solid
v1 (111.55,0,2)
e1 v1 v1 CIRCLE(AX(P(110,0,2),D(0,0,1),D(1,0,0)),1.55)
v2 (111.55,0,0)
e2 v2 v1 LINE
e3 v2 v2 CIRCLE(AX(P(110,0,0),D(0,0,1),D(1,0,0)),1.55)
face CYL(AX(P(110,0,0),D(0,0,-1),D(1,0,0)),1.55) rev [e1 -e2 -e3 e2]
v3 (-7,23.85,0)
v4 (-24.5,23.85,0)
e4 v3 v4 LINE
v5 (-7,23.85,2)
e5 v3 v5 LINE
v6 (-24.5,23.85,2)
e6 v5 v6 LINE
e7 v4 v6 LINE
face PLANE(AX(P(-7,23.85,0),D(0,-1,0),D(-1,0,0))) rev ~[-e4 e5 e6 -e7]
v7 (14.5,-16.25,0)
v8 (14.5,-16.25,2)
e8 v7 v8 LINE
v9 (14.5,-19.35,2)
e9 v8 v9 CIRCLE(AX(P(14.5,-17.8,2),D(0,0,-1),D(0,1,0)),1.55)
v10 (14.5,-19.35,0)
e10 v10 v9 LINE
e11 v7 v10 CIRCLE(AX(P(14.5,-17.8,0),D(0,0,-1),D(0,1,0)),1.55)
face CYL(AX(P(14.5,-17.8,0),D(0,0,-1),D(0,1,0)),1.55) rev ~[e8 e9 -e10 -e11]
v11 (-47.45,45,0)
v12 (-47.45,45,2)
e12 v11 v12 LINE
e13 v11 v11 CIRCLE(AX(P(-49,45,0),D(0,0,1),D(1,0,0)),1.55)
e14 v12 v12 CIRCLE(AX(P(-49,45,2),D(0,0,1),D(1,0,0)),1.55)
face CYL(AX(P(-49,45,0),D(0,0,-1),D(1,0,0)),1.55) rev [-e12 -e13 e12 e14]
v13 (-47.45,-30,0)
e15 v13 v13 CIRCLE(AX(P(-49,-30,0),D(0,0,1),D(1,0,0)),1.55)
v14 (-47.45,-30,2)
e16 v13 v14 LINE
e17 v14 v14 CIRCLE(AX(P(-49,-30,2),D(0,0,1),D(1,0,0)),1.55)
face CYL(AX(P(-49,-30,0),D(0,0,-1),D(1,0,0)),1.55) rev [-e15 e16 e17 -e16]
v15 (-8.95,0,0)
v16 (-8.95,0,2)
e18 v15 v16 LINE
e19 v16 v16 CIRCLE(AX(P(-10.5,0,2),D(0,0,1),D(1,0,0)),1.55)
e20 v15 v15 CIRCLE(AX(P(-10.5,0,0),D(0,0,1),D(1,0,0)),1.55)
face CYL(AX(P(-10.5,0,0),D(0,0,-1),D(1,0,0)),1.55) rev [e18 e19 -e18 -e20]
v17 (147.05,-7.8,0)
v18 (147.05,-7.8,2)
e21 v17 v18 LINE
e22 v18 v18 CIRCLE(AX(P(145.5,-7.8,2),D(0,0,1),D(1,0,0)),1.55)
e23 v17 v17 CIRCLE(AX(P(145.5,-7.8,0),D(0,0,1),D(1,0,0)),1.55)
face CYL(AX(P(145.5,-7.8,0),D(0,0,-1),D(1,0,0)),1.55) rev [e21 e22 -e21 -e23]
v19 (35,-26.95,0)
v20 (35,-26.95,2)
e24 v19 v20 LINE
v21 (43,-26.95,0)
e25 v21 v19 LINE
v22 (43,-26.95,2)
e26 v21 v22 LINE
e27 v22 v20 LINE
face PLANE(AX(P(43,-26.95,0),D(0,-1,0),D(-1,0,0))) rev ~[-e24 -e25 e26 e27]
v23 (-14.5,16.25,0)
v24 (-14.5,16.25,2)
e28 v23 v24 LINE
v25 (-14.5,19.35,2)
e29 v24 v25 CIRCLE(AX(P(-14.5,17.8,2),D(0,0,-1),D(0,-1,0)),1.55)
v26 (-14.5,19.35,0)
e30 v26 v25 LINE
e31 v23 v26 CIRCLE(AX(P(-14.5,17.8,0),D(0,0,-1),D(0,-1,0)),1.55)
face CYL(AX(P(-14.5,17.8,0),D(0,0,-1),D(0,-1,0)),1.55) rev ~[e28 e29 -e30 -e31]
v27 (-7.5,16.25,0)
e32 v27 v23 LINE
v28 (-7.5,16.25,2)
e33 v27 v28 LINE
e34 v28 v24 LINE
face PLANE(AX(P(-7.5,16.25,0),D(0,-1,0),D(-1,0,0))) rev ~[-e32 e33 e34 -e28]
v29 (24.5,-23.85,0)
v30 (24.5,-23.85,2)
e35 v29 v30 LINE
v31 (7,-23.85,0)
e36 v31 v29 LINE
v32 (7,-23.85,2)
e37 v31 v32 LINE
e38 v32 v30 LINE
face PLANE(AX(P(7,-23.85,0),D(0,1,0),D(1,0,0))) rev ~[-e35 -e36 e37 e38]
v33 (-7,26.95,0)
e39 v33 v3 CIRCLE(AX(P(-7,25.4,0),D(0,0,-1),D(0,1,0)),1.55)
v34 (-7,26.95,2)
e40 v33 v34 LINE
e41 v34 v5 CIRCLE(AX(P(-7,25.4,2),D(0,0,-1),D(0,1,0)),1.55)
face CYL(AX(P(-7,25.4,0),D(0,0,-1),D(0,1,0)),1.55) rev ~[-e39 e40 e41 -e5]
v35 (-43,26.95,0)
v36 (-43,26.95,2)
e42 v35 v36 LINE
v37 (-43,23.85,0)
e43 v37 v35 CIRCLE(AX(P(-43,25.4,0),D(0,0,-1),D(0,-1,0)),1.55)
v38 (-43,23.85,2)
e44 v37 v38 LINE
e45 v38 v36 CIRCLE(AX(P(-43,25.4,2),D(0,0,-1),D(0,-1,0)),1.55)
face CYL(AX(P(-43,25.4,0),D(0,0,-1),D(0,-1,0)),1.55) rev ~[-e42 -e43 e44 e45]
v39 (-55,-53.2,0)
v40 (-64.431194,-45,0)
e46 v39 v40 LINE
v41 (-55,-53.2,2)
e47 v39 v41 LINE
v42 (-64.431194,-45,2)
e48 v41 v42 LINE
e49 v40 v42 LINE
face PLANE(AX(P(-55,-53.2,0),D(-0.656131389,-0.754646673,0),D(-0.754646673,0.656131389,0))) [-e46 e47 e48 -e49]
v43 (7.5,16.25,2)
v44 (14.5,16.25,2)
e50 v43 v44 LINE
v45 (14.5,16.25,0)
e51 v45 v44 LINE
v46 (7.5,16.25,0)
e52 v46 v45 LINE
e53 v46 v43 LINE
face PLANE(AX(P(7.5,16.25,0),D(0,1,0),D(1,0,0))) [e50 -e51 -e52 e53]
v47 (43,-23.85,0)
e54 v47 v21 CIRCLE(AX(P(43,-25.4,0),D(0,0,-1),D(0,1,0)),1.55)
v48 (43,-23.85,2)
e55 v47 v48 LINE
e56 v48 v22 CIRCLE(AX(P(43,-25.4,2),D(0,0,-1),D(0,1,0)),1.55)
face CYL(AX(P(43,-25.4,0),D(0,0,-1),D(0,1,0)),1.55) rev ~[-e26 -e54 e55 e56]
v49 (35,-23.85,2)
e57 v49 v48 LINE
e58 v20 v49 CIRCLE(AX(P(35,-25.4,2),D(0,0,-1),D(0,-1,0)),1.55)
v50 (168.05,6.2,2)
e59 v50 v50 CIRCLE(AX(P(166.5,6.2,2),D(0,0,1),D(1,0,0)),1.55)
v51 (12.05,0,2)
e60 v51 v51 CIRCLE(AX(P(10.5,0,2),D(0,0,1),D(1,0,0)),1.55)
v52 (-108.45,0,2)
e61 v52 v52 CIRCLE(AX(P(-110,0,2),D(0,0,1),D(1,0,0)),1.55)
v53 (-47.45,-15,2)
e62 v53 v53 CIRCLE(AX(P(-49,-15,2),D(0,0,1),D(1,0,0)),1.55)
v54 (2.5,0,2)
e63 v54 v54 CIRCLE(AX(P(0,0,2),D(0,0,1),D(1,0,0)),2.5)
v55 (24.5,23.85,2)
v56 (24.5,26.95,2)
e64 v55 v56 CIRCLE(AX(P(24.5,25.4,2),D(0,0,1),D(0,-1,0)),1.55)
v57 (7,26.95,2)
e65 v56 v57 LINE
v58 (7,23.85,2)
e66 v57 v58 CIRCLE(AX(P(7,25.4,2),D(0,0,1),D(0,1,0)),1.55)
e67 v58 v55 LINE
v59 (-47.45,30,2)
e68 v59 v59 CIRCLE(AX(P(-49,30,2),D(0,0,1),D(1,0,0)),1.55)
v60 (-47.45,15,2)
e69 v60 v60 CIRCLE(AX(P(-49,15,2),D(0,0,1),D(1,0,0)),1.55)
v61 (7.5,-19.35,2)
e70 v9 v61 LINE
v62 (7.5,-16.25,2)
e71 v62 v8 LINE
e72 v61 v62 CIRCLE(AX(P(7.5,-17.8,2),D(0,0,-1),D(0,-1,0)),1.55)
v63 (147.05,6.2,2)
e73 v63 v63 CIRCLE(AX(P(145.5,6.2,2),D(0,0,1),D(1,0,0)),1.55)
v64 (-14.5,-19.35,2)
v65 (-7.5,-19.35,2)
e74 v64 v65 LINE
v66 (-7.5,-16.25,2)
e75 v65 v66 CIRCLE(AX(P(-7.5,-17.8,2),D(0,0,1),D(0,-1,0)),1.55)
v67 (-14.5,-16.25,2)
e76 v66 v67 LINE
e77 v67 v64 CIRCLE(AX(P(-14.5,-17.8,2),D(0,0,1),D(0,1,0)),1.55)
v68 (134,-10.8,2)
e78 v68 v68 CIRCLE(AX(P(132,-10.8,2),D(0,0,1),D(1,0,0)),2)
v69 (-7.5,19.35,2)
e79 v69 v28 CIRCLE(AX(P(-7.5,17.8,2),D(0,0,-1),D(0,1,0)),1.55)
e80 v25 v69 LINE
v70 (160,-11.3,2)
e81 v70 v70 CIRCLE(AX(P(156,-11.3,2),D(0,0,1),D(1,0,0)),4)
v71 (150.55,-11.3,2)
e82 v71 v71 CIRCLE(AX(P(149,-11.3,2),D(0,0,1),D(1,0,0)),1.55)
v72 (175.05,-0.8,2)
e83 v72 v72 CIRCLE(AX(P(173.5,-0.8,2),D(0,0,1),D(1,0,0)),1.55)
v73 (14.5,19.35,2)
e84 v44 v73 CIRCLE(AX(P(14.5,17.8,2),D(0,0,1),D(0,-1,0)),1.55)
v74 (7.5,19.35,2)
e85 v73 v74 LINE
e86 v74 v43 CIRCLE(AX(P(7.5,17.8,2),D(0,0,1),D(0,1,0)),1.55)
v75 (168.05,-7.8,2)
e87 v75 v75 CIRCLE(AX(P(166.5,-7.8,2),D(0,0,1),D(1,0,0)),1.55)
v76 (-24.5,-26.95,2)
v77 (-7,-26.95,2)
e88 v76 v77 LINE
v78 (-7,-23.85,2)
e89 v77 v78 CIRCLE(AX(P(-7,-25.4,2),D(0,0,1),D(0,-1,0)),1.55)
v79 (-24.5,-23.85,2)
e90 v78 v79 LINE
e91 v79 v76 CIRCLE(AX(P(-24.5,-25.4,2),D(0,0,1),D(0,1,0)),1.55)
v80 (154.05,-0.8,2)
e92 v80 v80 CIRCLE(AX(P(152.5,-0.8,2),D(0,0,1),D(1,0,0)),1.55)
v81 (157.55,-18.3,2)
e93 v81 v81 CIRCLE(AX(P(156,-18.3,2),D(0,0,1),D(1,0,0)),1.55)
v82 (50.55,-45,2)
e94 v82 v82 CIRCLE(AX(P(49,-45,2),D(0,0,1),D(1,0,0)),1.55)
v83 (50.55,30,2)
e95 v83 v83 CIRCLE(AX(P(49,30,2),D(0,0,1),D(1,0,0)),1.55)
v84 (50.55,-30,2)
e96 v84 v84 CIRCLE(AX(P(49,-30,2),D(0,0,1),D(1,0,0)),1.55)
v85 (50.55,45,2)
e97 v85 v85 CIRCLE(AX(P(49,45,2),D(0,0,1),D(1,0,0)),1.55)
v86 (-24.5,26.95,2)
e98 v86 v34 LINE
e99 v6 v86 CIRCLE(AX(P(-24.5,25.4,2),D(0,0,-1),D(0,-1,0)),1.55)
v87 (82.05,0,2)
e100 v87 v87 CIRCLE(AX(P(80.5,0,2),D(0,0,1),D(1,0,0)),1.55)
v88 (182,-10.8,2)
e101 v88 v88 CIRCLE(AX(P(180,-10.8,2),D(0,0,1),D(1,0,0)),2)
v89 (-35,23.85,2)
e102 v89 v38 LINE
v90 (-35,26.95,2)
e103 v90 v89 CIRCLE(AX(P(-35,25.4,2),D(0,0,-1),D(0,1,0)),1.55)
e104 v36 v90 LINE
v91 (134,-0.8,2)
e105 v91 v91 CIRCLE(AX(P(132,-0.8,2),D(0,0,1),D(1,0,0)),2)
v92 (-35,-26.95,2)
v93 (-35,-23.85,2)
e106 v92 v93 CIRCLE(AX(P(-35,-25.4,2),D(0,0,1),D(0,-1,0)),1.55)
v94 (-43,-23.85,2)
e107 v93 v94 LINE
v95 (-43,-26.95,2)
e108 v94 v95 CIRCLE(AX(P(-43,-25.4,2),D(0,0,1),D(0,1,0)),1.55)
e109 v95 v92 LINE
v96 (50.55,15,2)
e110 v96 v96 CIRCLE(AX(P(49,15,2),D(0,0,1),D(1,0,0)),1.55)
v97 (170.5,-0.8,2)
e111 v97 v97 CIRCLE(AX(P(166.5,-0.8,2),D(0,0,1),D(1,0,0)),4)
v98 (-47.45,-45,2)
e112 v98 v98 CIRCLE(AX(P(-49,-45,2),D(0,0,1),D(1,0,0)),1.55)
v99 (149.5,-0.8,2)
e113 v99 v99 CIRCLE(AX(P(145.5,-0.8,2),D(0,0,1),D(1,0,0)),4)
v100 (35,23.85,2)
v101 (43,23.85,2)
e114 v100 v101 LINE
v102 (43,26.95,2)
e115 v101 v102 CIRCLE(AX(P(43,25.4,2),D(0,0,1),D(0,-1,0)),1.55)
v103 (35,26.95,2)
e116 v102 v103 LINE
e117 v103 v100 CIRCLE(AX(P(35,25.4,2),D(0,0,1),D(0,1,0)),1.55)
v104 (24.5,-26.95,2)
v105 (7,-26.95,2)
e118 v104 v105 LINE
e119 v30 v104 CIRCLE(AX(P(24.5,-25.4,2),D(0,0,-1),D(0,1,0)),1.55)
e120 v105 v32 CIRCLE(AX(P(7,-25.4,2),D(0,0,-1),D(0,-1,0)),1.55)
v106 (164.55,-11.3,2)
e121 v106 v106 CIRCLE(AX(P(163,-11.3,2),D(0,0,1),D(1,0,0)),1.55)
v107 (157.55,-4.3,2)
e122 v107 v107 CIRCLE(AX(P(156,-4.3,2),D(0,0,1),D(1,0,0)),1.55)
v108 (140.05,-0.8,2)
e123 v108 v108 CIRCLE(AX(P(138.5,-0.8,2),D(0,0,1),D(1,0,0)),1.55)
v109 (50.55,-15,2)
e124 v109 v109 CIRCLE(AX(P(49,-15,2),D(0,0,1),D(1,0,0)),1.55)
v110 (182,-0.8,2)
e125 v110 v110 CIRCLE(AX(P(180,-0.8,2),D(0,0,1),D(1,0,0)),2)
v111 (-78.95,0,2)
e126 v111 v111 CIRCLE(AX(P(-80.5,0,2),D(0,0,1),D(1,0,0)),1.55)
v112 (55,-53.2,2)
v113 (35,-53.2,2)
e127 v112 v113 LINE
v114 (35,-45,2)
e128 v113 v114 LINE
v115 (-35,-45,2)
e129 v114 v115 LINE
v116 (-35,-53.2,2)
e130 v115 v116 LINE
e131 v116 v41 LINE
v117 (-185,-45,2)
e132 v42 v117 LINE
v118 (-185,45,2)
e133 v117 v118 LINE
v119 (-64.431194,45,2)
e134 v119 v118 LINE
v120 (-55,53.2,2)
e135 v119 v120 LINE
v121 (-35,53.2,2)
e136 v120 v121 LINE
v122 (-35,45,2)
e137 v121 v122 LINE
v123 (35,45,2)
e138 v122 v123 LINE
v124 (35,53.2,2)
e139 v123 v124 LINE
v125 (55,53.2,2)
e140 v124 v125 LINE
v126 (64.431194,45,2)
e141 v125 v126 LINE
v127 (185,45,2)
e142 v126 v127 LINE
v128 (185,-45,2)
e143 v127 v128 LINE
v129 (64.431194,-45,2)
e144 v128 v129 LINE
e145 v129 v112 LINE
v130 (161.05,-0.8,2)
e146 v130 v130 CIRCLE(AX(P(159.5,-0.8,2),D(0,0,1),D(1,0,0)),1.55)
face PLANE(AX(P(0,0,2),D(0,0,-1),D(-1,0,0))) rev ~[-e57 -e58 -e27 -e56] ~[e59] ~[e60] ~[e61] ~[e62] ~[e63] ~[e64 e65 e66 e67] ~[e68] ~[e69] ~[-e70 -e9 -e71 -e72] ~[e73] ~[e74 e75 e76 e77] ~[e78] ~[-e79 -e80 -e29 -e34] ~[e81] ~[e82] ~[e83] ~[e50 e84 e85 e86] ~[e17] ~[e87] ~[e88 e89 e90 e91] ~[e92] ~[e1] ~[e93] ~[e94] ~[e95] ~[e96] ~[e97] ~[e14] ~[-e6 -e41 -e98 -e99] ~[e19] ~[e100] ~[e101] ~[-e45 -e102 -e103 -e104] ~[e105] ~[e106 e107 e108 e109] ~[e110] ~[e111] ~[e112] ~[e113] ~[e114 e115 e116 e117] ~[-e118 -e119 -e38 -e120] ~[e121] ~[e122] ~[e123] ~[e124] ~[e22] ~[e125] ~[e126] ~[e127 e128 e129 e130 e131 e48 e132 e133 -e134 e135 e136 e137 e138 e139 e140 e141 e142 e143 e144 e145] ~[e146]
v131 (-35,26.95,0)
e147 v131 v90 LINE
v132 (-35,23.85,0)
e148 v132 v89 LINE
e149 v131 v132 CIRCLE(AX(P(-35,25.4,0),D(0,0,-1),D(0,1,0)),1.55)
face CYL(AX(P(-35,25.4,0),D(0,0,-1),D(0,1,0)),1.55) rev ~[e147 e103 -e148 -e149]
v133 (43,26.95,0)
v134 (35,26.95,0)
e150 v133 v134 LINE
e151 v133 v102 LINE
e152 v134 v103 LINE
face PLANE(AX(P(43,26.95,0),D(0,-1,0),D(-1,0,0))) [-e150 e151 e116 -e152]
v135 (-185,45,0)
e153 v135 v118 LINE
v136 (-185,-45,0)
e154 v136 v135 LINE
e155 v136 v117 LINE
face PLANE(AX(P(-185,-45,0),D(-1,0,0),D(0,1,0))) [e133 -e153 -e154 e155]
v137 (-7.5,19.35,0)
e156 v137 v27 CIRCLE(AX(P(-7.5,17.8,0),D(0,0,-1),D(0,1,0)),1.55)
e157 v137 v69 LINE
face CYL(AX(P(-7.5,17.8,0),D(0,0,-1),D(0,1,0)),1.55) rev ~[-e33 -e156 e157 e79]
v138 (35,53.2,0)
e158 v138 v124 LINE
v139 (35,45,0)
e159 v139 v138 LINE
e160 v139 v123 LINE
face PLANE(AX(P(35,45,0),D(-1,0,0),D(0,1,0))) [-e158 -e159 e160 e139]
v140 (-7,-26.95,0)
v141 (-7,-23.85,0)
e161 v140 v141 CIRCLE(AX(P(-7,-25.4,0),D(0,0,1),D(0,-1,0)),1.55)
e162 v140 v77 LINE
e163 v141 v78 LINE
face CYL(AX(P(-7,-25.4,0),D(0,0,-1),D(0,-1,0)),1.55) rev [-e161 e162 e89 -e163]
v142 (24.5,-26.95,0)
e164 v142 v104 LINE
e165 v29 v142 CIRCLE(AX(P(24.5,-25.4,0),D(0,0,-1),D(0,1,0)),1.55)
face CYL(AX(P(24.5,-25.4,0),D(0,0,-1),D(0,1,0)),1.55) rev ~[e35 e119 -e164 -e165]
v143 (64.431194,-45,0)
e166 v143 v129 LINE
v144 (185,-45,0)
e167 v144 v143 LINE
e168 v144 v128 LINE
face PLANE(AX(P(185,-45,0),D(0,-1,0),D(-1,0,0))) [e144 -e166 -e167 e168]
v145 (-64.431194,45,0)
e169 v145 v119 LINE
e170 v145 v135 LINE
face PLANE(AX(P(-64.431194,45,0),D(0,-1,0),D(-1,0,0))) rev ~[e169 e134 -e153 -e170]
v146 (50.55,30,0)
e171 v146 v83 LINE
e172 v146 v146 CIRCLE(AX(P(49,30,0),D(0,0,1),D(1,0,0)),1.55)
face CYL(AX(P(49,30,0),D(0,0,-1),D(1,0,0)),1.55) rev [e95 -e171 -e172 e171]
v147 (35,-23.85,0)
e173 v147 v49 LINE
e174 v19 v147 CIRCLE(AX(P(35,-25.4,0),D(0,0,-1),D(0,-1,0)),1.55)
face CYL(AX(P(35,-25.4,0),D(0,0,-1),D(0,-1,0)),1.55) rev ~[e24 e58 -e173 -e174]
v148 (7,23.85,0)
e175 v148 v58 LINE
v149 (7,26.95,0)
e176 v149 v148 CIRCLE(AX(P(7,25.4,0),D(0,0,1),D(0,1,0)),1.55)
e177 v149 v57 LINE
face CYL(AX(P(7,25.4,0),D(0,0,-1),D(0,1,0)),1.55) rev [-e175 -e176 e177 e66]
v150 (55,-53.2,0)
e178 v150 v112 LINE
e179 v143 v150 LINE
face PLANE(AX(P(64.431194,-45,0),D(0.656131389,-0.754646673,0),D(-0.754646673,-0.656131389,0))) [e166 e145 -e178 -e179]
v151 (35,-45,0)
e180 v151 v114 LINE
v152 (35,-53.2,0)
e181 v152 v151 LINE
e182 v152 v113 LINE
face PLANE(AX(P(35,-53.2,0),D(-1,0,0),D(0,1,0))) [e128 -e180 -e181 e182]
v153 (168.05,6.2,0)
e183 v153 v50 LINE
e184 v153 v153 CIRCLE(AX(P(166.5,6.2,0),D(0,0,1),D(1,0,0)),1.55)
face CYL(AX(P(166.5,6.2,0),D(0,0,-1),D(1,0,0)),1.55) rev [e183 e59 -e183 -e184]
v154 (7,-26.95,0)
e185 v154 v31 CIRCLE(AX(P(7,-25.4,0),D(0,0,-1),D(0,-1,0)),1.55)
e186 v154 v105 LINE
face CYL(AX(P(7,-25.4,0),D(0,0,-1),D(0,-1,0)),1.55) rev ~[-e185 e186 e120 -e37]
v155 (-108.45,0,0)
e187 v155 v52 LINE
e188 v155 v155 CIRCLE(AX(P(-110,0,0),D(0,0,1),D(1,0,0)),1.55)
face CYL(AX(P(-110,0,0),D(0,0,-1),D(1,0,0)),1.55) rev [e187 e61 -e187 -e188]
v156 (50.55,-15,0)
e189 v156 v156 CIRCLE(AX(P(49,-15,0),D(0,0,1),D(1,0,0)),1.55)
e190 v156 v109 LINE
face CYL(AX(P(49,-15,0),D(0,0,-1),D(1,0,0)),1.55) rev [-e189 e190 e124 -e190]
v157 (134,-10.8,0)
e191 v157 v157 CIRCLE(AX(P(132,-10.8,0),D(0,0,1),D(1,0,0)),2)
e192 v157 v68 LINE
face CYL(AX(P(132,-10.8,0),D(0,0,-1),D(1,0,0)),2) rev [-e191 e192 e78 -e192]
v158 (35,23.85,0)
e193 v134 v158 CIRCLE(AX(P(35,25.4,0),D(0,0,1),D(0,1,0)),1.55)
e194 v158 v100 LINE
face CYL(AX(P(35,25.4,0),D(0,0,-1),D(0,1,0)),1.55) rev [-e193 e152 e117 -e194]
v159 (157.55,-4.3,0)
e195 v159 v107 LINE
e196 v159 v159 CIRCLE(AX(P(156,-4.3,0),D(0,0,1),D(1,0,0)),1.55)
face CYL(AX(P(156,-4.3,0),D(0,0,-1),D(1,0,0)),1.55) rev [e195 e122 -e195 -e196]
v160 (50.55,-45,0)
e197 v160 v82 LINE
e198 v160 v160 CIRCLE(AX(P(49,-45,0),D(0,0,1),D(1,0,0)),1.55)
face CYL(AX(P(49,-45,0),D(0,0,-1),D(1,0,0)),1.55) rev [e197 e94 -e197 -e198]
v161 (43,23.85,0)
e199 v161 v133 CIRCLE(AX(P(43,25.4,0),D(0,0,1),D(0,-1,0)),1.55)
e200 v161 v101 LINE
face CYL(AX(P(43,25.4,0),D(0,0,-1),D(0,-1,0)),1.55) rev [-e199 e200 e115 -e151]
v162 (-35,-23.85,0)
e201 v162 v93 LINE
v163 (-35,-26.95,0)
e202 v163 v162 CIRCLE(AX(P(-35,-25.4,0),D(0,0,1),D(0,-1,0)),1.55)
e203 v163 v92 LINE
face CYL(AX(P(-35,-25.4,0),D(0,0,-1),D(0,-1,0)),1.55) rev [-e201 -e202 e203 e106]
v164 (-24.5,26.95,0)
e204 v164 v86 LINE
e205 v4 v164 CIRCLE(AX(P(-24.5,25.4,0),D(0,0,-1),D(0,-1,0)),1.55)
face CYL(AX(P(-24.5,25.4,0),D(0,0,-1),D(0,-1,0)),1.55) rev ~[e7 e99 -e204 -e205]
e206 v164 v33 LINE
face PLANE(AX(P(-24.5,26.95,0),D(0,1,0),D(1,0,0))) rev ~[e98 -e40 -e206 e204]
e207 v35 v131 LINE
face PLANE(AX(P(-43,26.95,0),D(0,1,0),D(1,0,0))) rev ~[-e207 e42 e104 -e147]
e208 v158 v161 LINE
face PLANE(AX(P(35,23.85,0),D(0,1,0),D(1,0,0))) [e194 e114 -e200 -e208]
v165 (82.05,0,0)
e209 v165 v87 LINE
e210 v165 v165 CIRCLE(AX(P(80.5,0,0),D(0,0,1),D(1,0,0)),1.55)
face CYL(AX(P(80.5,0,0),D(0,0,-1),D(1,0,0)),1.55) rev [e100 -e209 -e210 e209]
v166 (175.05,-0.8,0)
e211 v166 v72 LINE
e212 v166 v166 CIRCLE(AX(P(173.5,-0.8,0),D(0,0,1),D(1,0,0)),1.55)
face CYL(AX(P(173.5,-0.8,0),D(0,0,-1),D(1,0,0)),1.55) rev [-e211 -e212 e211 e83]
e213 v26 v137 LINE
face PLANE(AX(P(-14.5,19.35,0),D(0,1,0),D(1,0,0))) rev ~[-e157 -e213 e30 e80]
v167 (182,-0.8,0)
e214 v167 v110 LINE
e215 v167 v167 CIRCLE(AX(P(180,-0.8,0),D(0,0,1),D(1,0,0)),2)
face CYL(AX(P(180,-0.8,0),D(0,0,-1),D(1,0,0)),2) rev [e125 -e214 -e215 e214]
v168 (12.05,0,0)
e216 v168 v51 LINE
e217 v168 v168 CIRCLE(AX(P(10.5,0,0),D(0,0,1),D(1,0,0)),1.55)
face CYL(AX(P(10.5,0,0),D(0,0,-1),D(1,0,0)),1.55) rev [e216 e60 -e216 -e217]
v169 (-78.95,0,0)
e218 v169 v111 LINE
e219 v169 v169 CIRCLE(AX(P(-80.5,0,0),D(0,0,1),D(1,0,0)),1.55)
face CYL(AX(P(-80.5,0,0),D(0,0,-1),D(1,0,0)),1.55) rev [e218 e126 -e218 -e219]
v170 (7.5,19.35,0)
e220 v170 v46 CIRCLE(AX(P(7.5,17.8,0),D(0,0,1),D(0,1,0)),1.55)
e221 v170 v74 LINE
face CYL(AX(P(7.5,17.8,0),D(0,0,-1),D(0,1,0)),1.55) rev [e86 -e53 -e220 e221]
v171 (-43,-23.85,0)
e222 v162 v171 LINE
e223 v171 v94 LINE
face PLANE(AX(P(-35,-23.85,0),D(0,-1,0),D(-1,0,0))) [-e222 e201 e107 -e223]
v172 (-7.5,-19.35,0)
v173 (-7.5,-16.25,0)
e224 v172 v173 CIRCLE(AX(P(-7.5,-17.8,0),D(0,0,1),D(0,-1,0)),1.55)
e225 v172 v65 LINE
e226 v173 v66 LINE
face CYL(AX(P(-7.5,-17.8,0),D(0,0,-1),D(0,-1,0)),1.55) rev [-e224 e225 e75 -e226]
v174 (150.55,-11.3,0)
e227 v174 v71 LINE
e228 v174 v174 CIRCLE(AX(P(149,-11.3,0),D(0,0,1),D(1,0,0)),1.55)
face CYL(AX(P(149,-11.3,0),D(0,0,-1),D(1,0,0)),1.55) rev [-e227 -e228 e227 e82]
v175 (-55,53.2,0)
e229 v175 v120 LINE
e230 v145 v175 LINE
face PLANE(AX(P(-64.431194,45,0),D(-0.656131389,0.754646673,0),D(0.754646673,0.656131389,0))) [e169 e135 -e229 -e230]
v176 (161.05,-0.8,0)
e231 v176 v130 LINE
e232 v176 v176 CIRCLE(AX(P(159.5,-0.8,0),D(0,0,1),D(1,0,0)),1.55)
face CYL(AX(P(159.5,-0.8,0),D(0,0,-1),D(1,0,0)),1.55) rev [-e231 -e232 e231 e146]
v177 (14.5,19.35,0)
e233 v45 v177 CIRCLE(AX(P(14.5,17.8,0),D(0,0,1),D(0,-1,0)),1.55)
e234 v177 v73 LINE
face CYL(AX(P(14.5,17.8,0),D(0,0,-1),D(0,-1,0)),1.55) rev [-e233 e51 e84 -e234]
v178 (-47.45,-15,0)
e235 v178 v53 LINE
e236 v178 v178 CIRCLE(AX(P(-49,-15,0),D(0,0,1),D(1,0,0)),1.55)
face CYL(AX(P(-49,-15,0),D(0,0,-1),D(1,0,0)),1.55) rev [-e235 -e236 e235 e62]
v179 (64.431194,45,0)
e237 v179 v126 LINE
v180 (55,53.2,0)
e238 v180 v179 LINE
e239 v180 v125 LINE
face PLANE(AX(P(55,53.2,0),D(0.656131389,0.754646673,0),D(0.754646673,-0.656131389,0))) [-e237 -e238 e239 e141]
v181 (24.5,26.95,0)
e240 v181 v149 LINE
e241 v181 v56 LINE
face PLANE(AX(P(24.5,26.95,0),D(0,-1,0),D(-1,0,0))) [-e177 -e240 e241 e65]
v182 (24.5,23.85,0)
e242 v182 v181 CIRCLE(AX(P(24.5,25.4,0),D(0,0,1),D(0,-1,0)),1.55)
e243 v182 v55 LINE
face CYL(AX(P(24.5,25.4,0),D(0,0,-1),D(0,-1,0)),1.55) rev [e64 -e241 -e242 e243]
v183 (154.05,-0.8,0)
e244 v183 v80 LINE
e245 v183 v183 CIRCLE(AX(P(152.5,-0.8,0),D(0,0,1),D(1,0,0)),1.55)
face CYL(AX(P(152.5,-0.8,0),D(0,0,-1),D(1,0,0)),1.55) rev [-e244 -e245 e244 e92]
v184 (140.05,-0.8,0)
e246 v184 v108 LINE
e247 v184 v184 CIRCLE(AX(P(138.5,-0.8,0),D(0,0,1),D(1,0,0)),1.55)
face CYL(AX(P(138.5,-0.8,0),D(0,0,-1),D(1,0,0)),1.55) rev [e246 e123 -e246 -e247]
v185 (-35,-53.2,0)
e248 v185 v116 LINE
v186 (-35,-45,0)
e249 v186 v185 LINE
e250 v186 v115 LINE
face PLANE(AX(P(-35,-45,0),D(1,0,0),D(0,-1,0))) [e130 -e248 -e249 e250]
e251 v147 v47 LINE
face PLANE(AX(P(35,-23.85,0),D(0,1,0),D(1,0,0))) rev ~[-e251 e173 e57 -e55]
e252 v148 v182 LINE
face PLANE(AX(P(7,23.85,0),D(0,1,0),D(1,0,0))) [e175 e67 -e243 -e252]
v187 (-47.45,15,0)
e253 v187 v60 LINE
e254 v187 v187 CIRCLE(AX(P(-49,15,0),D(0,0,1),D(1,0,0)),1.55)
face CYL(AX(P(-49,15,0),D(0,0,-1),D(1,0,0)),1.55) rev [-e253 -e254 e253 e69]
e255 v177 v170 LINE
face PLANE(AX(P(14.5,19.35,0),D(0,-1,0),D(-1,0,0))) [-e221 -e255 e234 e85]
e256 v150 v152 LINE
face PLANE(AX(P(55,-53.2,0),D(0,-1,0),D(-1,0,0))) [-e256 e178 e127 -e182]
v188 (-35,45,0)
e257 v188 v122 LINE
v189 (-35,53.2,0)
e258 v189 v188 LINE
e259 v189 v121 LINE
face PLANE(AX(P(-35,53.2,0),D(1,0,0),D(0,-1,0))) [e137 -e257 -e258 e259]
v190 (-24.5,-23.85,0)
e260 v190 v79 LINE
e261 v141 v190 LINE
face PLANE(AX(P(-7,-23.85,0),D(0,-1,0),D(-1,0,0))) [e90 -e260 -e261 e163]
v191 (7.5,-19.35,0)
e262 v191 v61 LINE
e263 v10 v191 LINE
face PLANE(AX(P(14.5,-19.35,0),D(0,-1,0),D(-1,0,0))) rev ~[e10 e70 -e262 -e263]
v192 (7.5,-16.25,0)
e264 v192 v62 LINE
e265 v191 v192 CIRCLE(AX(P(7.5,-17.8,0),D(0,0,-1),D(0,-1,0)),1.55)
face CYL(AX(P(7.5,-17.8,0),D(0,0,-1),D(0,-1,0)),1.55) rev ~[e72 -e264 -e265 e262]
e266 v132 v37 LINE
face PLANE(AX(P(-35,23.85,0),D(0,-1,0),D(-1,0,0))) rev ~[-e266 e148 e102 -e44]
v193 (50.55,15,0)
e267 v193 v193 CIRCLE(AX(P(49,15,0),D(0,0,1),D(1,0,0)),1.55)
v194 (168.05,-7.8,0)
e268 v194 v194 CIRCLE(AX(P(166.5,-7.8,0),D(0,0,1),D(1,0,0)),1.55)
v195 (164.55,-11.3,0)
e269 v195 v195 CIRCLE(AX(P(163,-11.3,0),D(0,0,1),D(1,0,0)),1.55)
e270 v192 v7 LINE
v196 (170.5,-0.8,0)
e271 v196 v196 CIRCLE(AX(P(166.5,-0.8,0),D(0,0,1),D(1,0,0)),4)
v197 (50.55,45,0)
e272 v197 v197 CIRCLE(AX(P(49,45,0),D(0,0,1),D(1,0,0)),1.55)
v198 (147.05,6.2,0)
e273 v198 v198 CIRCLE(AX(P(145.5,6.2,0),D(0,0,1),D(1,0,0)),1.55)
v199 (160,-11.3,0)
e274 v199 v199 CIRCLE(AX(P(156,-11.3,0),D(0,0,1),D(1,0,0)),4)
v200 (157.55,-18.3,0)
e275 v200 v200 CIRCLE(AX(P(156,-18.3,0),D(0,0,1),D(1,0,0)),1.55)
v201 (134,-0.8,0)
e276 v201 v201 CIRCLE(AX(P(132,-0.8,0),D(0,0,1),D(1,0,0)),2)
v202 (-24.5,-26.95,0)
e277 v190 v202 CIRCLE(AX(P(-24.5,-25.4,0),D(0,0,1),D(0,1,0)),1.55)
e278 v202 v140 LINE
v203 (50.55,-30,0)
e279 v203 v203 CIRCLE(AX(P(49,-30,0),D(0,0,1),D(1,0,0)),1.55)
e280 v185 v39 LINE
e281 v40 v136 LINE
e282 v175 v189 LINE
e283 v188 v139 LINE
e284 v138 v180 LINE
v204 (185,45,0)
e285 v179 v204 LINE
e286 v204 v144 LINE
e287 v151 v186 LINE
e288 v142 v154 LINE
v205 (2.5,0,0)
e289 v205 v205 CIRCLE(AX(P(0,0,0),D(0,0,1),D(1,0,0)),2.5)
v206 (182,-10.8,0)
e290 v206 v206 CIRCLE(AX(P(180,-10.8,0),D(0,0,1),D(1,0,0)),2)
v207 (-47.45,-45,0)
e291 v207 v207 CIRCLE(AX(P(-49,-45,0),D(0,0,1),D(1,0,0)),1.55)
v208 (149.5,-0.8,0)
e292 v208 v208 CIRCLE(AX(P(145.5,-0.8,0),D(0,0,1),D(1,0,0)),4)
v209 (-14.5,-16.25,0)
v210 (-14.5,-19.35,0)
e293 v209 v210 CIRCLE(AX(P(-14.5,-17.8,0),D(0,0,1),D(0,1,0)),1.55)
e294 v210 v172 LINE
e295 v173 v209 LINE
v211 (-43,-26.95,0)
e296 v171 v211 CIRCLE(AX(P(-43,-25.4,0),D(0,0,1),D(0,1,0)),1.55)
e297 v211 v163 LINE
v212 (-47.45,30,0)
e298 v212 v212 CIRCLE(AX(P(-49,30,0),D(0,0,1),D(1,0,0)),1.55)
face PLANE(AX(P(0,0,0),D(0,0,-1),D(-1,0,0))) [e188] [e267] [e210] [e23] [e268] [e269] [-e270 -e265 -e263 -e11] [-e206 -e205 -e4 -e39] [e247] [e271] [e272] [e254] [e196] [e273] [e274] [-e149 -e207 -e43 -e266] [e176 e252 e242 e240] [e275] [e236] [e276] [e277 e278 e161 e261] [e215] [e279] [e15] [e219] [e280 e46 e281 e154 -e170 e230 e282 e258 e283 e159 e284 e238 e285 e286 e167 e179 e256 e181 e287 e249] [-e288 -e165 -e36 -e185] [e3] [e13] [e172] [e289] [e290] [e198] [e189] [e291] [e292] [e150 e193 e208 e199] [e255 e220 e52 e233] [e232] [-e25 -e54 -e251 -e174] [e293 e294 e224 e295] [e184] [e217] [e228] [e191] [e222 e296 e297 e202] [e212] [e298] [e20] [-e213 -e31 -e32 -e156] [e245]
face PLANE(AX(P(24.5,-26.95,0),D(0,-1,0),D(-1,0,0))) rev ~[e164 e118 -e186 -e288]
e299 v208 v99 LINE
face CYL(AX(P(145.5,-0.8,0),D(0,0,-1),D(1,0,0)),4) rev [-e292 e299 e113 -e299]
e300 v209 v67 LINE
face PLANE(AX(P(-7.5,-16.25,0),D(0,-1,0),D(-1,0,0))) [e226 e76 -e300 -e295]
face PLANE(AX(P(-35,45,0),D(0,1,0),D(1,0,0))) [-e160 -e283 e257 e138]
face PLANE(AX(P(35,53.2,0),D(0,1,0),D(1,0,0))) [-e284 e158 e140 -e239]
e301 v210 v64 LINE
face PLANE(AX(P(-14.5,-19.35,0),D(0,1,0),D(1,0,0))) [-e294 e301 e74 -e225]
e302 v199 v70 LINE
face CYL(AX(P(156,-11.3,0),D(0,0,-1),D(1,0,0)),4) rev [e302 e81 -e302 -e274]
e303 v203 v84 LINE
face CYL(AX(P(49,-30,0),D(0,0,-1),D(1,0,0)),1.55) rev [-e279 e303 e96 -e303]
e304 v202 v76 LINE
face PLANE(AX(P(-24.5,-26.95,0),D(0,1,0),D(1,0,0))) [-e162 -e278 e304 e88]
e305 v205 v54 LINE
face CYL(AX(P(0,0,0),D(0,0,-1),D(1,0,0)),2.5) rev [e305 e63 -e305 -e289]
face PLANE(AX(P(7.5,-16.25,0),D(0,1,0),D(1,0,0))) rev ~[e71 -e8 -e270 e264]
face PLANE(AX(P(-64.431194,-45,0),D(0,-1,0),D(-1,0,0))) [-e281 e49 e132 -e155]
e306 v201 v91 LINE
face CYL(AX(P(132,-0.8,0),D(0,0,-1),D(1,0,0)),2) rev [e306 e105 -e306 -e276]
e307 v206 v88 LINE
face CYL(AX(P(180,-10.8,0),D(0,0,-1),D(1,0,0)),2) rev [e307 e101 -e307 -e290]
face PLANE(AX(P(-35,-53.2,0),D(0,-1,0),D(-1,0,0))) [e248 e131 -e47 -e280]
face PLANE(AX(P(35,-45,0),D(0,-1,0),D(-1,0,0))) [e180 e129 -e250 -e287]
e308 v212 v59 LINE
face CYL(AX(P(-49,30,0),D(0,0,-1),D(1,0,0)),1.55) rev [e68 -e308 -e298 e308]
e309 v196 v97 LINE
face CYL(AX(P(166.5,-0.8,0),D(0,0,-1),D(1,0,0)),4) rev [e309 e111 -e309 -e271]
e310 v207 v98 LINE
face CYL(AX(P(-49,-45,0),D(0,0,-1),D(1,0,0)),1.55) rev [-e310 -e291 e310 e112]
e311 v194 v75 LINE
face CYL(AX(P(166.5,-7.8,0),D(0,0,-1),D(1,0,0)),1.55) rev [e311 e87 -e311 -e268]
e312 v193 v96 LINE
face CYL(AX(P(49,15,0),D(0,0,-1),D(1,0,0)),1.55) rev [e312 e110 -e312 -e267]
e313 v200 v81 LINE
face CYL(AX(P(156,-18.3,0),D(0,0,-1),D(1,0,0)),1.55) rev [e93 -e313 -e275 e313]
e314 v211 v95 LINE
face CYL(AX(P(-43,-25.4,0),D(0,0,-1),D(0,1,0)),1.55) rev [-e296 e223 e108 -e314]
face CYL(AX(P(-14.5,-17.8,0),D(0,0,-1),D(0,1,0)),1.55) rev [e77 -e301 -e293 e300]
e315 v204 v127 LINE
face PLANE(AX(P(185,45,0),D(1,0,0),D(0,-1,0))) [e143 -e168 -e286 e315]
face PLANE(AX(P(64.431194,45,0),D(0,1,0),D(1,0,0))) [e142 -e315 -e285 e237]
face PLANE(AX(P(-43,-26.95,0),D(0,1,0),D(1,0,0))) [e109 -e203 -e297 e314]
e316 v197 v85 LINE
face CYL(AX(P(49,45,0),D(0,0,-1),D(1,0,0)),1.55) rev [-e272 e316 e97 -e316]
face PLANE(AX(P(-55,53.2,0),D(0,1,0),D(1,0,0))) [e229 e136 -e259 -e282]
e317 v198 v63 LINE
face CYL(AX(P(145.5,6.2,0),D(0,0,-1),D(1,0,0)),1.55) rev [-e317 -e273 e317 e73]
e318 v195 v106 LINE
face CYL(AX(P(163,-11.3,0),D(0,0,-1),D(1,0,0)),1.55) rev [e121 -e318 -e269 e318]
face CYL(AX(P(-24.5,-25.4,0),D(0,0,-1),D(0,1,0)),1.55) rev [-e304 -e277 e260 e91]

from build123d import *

# Parameters (mm, degrees)
SKETCH_1_R      = 1.55
SKETCH_1_R_2    = 2
SKETCH_1_R_3    = 4
SKETCH_1_R_4    = 2.5
EXTRUDE_1_DEPTH = 2


with BuildPart() as part:
    # 草图1 → 凸台-拉伸1 (new body)
    with BuildSketch(Plane.XY):
        Polygon((-35, 45), (35, 45), (35, 53.2), (55, 53.2), (64.431194454, 45), (185, 45), (185, -45), (64.431194454, -45), (55, -53.2), (35, -53.2), (35, -45), (-35, -45), (-35, -53.2), (-55, -53.2), (-64.431194454, -45), (-185, -45), (-185, 45), (-73.862388908, 45), (-64.431194454, 45), (-55, 53.2), (-35, 53.2), align=None)
        with Locations((49, -30)):
            Circle(SKETCH_1_R, mode=Mode.SUBTRACT)
        with Locations((49, -15)):
            Circle(SKETCH_1_R, mode=Mode.SUBTRACT)
        with Locations((10.5, 0)):
            Circle(SKETCH_1_R, mode=Mode.SUBTRACT)
        with Locations((-10.5, 0)):
            Circle(SKETCH_1_R, mode=Mode.SUBTRACT)
        with Locations((-49, -15)):
            Circle(SKETCH_1_R, mode=Mode.SUBTRACT)
        with Locations((-49, -30)):
            Circle(SKETCH_1_R, mode=Mode.SUBTRACT)
        with Locations((-49, 45)):
            Circle(SKETCH_1_R, mode=Mode.SUBTRACT)
        with Locations((49, 45)):
            Circle(SKETCH_1_R, mode=Mode.SUBTRACT)
        with Locations((-49, 30)):
            Circle(SKETCH_1_R, mode=Mode.SUBTRACT)
        with Locations((-49, 15)):
            Circle(SKETCH_1_R, mode=Mode.SUBTRACT)
        with Locations((49, 15)):
            Circle(SKETCH_1_R, mode=Mode.SUBTRACT)
        with Locations((49, 30)):
            Circle(SKETCH_1_R, mode=Mode.SUBTRACT)
        with Locations((49, -45)):
            Circle(SKETCH_1_R, mode=Mode.SUBTRACT)
        with Locations((-49, -45)):
            Circle(SKETCH_1_R, mode=Mode.SUBTRACT)
        with Locations((-80.5, 0)):
            Circle(SKETCH_1_R, mode=Mode.SUBTRACT)
        with Locations((-110, 0)):
            Circle(SKETCH_1_R, mode=Mode.SUBTRACT)
        with Locations((80.5, 0)):
            Circle(SKETCH_1_R, mode=Mode.SUBTRACT)
        with Locations((110, 0)):
            Circle(SKETCH_1_R, mode=Mode.SUBTRACT)
        with Locations((132, -0.8)):
            Circle(SKETCH_1_R_2, mode=Mode.SUBTRACT)
        with Locations((132, -10.8)):
            Circle(SKETCH_1_R_2, mode=Mode.SUBTRACT)
        with Locations((145.5, -0.8)):
            Circle(SKETCH_1_R_3, mode=Mode.SUBTRACT)
        with Locations((145.5, 6.2)):
            Circle(SKETCH_1_R, mode=Mode.SUBTRACT)
        with Locations((138.5, -0.8)):
            Circle(SKETCH_1_R, mode=Mode.SUBTRACT)
        with Locations((152.5, -0.8)):
            Circle(SKETCH_1_R, mode=Mode.SUBTRACT)
        with Locations((145.5, -7.8)):
            Circle(SKETCH_1_R, mode=Mode.SUBTRACT)
        with Locations((149, -11.3)):
            Circle(SKETCH_1_R, mode=Mode.SUBTRACT)
        with Locations((156, -4.3)):
            Circle(SKETCH_1_R, mode=Mode.SUBTRACT)
        with Locations((180, -10.8)):
            Circle(SKETCH_1_R_2, mode=Mode.SUBTRACT)
        with Locations((180, -0.8)):
            Circle(SKETCH_1_R_2, mode=Mode.SUBTRACT)
        with Locations((156, -18.3)):
            Circle(SKETCH_1_R, mode=Mode.SUBTRACT)
        with Locations((163, -11.3)):
            Circle(SKETCH_1_R, mode=Mode.SUBTRACT)
        with Locations((156, -11.3)):
            Circle(SKETCH_1_R_3, mode=Mode.SUBTRACT)
        with Locations((166.5, -0.8)):
            Circle(SKETCH_1_R_3, mode=Mode.SUBTRACT)
        with Locations((159.5, -0.8)):
            Circle(SKETCH_1_R, mode=Mode.SUBTRACT)
        with Locations((166.5, -7.8)):
            Circle(SKETCH_1_R, mode=Mode.SUBTRACT)
        with Locations((173.5, -0.8)):
            Circle(SKETCH_1_R, mode=Mode.SUBTRACT)
        with Locations((166.5, 6.2)):
            Circle(SKETCH_1_R, mode=Mode.SUBTRACT)
        Circle(SKETCH_1_R_4, mode=Mode.SUBTRACT)
        with BuildLine():
            Line((7.5, -16.25), (14.5, -16.25))
            ThreePointArc((14.5, -16.25), (16.05, -17.8), (14.5, -19.35))
            Line((14.5, -19.35), (7.5, -19.35))
            ThreePointArc((7.5, -19.35), (5.95, -17.8), (7.5, -16.25))
        make_face(mode=Mode.SUBTRACT)
        with BuildLine():
            Line((7, -23.85), (24.5, -23.85))
            ThreePointArc((24.5, -23.85), (26.05, -25.4), (24.5, -26.95))
            Line((24.5, -26.95), (7, -26.95))
            ThreePointArc((7, -26.95), (5.45, -25.4), (7, -23.85))
        make_face(mode=Mode.SUBTRACT)
        with BuildLine():
            Line((35, -23.85), (43, -23.85))
            ThreePointArc((43, -23.85), (44.55, -25.4), (43, -26.95))
            Line((43, -26.95), (35, -26.95))
            ThreePointArc((35, -26.95), (33.45, -25.4), (35, -23.85))
        make_face(mode=Mode.SUBTRACT)
        with BuildLine():
            Line((-35, -23.85), (-43, -23.85))
            ThreePointArc((-43, -23.85), (-44.55, -25.4), (-43, -26.95))
            Line((-43, -26.95), (-35, -26.95))
            ThreePointArc((-35, -26.95), (-33.45, -25.4), (-35, -23.85))
        make_face(mode=Mode.SUBTRACT)
        with BuildLine():
            Line((-7, -23.85), (-24.5, -23.85))
            ThreePointArc((-24.5, -23.85), (-26.05, -25.4), (-24.5, -26.95))
            Line((-24.5, -26.95), (-7, -26.95))
            ThreePointArc((-7, -26.95), (-5.45, -25.4), (-7, -23.85))
        make_face(mode=Mode.SUBTRACT)
        with BuildLine():
            Line((-7.5, -16.25), (-14.5, -16.25))
            ThreePointArc((-14.5, -16.25), (-16.05, -17.8), (-14.5, -19.35))
            Line((-14.5, -19.35), (-7.5, -19.35))
            ThreePointArc((-7.5, -19.35), (-5.95, -17.8), (-7.5, -16.25))
        make_face(mode=Mode.SUBTRACT)
        with BuildLine():
            Line((-7.5, 16.25), (-14.5, 16.25))
            ThreePointArc((-14.5, 16.25), (-16.05, 17.8), (-14.5, 19.35))
            Line((-14.5, 19.35), (-7.5, 19.35))
            ThreePointArc((-7.5, 19.35), (-5.95, 17.8), (-7.5, 16.25))
        make_face(mode=Mode.SUBTRACT)
        with BuildLine():
            Line((-7, 23.85), (-24.5, 23.85))
            ThreePointArc((-24.5, 23.85), (-26.05, 25.4), (-24.5, 26.95))
            Line((-24.5, 26.95), (-7, 26.95))
            ThreePointArc((-7, 26.95), (-5.45, 25.4), (-7, 23.85))
        make_face(mode=Mode.SUBTRACT)
        with BuildLine():
            Line((-35, 23.85), (-43, 23.85))
            ThreePointArc((-43, 23.85), (-44.55, 25.4), (-43, 26.95))
            Line((-43, 26.95), (-35, 26.95))
            ThreePointArc((-35, 26.95), (-33.45, 25.4), (-35, 23.85))
        make_face(mode=Mode.SUBTRACT)
        with BuildLine():
            Line((35, 23.85), (43, 23.85))
            ThreePointArc((43, 23.85), (44.55, 25.4), (43, 26.95))
            Line((43, 26.95), (35, 26.95))
            ThreePointArc((35, 26.95), (33.45, 25.4), (35, 23.85))
        make_face(mode=Mode.SUBTRACT)
        with BuildLine():
            Line((7, 23.85), (24.5, 23.85))
            ThreePointArc((24.5, 23.85), (26.05, 25.4), (24.5, 26.95))
            Line((24.5, 26.95), (7, 26.95))
            ThreePointArc((7, 26.95), (5.45, 25.4), (7, 23.85))
        make_face(mode=Mode.SUBTRACT)
        with BuildLine():
            Line((7.5, 16.25), (14.5, 16.25))
            ThreePointArc((14.5, 16.25), (16.05, 17.8), (14.5, 19.35))
            Line((14.5, 19.35), (7.5, 19.35))
            ThreePointArc((7.5, 19.35), (5.95, 17.8), (7.5, 16.25))
        make_face(mode=Mode.SUBTRACT)
    extrude(amount=EXTRUDE_1_DEPTH)


solid = part.part
